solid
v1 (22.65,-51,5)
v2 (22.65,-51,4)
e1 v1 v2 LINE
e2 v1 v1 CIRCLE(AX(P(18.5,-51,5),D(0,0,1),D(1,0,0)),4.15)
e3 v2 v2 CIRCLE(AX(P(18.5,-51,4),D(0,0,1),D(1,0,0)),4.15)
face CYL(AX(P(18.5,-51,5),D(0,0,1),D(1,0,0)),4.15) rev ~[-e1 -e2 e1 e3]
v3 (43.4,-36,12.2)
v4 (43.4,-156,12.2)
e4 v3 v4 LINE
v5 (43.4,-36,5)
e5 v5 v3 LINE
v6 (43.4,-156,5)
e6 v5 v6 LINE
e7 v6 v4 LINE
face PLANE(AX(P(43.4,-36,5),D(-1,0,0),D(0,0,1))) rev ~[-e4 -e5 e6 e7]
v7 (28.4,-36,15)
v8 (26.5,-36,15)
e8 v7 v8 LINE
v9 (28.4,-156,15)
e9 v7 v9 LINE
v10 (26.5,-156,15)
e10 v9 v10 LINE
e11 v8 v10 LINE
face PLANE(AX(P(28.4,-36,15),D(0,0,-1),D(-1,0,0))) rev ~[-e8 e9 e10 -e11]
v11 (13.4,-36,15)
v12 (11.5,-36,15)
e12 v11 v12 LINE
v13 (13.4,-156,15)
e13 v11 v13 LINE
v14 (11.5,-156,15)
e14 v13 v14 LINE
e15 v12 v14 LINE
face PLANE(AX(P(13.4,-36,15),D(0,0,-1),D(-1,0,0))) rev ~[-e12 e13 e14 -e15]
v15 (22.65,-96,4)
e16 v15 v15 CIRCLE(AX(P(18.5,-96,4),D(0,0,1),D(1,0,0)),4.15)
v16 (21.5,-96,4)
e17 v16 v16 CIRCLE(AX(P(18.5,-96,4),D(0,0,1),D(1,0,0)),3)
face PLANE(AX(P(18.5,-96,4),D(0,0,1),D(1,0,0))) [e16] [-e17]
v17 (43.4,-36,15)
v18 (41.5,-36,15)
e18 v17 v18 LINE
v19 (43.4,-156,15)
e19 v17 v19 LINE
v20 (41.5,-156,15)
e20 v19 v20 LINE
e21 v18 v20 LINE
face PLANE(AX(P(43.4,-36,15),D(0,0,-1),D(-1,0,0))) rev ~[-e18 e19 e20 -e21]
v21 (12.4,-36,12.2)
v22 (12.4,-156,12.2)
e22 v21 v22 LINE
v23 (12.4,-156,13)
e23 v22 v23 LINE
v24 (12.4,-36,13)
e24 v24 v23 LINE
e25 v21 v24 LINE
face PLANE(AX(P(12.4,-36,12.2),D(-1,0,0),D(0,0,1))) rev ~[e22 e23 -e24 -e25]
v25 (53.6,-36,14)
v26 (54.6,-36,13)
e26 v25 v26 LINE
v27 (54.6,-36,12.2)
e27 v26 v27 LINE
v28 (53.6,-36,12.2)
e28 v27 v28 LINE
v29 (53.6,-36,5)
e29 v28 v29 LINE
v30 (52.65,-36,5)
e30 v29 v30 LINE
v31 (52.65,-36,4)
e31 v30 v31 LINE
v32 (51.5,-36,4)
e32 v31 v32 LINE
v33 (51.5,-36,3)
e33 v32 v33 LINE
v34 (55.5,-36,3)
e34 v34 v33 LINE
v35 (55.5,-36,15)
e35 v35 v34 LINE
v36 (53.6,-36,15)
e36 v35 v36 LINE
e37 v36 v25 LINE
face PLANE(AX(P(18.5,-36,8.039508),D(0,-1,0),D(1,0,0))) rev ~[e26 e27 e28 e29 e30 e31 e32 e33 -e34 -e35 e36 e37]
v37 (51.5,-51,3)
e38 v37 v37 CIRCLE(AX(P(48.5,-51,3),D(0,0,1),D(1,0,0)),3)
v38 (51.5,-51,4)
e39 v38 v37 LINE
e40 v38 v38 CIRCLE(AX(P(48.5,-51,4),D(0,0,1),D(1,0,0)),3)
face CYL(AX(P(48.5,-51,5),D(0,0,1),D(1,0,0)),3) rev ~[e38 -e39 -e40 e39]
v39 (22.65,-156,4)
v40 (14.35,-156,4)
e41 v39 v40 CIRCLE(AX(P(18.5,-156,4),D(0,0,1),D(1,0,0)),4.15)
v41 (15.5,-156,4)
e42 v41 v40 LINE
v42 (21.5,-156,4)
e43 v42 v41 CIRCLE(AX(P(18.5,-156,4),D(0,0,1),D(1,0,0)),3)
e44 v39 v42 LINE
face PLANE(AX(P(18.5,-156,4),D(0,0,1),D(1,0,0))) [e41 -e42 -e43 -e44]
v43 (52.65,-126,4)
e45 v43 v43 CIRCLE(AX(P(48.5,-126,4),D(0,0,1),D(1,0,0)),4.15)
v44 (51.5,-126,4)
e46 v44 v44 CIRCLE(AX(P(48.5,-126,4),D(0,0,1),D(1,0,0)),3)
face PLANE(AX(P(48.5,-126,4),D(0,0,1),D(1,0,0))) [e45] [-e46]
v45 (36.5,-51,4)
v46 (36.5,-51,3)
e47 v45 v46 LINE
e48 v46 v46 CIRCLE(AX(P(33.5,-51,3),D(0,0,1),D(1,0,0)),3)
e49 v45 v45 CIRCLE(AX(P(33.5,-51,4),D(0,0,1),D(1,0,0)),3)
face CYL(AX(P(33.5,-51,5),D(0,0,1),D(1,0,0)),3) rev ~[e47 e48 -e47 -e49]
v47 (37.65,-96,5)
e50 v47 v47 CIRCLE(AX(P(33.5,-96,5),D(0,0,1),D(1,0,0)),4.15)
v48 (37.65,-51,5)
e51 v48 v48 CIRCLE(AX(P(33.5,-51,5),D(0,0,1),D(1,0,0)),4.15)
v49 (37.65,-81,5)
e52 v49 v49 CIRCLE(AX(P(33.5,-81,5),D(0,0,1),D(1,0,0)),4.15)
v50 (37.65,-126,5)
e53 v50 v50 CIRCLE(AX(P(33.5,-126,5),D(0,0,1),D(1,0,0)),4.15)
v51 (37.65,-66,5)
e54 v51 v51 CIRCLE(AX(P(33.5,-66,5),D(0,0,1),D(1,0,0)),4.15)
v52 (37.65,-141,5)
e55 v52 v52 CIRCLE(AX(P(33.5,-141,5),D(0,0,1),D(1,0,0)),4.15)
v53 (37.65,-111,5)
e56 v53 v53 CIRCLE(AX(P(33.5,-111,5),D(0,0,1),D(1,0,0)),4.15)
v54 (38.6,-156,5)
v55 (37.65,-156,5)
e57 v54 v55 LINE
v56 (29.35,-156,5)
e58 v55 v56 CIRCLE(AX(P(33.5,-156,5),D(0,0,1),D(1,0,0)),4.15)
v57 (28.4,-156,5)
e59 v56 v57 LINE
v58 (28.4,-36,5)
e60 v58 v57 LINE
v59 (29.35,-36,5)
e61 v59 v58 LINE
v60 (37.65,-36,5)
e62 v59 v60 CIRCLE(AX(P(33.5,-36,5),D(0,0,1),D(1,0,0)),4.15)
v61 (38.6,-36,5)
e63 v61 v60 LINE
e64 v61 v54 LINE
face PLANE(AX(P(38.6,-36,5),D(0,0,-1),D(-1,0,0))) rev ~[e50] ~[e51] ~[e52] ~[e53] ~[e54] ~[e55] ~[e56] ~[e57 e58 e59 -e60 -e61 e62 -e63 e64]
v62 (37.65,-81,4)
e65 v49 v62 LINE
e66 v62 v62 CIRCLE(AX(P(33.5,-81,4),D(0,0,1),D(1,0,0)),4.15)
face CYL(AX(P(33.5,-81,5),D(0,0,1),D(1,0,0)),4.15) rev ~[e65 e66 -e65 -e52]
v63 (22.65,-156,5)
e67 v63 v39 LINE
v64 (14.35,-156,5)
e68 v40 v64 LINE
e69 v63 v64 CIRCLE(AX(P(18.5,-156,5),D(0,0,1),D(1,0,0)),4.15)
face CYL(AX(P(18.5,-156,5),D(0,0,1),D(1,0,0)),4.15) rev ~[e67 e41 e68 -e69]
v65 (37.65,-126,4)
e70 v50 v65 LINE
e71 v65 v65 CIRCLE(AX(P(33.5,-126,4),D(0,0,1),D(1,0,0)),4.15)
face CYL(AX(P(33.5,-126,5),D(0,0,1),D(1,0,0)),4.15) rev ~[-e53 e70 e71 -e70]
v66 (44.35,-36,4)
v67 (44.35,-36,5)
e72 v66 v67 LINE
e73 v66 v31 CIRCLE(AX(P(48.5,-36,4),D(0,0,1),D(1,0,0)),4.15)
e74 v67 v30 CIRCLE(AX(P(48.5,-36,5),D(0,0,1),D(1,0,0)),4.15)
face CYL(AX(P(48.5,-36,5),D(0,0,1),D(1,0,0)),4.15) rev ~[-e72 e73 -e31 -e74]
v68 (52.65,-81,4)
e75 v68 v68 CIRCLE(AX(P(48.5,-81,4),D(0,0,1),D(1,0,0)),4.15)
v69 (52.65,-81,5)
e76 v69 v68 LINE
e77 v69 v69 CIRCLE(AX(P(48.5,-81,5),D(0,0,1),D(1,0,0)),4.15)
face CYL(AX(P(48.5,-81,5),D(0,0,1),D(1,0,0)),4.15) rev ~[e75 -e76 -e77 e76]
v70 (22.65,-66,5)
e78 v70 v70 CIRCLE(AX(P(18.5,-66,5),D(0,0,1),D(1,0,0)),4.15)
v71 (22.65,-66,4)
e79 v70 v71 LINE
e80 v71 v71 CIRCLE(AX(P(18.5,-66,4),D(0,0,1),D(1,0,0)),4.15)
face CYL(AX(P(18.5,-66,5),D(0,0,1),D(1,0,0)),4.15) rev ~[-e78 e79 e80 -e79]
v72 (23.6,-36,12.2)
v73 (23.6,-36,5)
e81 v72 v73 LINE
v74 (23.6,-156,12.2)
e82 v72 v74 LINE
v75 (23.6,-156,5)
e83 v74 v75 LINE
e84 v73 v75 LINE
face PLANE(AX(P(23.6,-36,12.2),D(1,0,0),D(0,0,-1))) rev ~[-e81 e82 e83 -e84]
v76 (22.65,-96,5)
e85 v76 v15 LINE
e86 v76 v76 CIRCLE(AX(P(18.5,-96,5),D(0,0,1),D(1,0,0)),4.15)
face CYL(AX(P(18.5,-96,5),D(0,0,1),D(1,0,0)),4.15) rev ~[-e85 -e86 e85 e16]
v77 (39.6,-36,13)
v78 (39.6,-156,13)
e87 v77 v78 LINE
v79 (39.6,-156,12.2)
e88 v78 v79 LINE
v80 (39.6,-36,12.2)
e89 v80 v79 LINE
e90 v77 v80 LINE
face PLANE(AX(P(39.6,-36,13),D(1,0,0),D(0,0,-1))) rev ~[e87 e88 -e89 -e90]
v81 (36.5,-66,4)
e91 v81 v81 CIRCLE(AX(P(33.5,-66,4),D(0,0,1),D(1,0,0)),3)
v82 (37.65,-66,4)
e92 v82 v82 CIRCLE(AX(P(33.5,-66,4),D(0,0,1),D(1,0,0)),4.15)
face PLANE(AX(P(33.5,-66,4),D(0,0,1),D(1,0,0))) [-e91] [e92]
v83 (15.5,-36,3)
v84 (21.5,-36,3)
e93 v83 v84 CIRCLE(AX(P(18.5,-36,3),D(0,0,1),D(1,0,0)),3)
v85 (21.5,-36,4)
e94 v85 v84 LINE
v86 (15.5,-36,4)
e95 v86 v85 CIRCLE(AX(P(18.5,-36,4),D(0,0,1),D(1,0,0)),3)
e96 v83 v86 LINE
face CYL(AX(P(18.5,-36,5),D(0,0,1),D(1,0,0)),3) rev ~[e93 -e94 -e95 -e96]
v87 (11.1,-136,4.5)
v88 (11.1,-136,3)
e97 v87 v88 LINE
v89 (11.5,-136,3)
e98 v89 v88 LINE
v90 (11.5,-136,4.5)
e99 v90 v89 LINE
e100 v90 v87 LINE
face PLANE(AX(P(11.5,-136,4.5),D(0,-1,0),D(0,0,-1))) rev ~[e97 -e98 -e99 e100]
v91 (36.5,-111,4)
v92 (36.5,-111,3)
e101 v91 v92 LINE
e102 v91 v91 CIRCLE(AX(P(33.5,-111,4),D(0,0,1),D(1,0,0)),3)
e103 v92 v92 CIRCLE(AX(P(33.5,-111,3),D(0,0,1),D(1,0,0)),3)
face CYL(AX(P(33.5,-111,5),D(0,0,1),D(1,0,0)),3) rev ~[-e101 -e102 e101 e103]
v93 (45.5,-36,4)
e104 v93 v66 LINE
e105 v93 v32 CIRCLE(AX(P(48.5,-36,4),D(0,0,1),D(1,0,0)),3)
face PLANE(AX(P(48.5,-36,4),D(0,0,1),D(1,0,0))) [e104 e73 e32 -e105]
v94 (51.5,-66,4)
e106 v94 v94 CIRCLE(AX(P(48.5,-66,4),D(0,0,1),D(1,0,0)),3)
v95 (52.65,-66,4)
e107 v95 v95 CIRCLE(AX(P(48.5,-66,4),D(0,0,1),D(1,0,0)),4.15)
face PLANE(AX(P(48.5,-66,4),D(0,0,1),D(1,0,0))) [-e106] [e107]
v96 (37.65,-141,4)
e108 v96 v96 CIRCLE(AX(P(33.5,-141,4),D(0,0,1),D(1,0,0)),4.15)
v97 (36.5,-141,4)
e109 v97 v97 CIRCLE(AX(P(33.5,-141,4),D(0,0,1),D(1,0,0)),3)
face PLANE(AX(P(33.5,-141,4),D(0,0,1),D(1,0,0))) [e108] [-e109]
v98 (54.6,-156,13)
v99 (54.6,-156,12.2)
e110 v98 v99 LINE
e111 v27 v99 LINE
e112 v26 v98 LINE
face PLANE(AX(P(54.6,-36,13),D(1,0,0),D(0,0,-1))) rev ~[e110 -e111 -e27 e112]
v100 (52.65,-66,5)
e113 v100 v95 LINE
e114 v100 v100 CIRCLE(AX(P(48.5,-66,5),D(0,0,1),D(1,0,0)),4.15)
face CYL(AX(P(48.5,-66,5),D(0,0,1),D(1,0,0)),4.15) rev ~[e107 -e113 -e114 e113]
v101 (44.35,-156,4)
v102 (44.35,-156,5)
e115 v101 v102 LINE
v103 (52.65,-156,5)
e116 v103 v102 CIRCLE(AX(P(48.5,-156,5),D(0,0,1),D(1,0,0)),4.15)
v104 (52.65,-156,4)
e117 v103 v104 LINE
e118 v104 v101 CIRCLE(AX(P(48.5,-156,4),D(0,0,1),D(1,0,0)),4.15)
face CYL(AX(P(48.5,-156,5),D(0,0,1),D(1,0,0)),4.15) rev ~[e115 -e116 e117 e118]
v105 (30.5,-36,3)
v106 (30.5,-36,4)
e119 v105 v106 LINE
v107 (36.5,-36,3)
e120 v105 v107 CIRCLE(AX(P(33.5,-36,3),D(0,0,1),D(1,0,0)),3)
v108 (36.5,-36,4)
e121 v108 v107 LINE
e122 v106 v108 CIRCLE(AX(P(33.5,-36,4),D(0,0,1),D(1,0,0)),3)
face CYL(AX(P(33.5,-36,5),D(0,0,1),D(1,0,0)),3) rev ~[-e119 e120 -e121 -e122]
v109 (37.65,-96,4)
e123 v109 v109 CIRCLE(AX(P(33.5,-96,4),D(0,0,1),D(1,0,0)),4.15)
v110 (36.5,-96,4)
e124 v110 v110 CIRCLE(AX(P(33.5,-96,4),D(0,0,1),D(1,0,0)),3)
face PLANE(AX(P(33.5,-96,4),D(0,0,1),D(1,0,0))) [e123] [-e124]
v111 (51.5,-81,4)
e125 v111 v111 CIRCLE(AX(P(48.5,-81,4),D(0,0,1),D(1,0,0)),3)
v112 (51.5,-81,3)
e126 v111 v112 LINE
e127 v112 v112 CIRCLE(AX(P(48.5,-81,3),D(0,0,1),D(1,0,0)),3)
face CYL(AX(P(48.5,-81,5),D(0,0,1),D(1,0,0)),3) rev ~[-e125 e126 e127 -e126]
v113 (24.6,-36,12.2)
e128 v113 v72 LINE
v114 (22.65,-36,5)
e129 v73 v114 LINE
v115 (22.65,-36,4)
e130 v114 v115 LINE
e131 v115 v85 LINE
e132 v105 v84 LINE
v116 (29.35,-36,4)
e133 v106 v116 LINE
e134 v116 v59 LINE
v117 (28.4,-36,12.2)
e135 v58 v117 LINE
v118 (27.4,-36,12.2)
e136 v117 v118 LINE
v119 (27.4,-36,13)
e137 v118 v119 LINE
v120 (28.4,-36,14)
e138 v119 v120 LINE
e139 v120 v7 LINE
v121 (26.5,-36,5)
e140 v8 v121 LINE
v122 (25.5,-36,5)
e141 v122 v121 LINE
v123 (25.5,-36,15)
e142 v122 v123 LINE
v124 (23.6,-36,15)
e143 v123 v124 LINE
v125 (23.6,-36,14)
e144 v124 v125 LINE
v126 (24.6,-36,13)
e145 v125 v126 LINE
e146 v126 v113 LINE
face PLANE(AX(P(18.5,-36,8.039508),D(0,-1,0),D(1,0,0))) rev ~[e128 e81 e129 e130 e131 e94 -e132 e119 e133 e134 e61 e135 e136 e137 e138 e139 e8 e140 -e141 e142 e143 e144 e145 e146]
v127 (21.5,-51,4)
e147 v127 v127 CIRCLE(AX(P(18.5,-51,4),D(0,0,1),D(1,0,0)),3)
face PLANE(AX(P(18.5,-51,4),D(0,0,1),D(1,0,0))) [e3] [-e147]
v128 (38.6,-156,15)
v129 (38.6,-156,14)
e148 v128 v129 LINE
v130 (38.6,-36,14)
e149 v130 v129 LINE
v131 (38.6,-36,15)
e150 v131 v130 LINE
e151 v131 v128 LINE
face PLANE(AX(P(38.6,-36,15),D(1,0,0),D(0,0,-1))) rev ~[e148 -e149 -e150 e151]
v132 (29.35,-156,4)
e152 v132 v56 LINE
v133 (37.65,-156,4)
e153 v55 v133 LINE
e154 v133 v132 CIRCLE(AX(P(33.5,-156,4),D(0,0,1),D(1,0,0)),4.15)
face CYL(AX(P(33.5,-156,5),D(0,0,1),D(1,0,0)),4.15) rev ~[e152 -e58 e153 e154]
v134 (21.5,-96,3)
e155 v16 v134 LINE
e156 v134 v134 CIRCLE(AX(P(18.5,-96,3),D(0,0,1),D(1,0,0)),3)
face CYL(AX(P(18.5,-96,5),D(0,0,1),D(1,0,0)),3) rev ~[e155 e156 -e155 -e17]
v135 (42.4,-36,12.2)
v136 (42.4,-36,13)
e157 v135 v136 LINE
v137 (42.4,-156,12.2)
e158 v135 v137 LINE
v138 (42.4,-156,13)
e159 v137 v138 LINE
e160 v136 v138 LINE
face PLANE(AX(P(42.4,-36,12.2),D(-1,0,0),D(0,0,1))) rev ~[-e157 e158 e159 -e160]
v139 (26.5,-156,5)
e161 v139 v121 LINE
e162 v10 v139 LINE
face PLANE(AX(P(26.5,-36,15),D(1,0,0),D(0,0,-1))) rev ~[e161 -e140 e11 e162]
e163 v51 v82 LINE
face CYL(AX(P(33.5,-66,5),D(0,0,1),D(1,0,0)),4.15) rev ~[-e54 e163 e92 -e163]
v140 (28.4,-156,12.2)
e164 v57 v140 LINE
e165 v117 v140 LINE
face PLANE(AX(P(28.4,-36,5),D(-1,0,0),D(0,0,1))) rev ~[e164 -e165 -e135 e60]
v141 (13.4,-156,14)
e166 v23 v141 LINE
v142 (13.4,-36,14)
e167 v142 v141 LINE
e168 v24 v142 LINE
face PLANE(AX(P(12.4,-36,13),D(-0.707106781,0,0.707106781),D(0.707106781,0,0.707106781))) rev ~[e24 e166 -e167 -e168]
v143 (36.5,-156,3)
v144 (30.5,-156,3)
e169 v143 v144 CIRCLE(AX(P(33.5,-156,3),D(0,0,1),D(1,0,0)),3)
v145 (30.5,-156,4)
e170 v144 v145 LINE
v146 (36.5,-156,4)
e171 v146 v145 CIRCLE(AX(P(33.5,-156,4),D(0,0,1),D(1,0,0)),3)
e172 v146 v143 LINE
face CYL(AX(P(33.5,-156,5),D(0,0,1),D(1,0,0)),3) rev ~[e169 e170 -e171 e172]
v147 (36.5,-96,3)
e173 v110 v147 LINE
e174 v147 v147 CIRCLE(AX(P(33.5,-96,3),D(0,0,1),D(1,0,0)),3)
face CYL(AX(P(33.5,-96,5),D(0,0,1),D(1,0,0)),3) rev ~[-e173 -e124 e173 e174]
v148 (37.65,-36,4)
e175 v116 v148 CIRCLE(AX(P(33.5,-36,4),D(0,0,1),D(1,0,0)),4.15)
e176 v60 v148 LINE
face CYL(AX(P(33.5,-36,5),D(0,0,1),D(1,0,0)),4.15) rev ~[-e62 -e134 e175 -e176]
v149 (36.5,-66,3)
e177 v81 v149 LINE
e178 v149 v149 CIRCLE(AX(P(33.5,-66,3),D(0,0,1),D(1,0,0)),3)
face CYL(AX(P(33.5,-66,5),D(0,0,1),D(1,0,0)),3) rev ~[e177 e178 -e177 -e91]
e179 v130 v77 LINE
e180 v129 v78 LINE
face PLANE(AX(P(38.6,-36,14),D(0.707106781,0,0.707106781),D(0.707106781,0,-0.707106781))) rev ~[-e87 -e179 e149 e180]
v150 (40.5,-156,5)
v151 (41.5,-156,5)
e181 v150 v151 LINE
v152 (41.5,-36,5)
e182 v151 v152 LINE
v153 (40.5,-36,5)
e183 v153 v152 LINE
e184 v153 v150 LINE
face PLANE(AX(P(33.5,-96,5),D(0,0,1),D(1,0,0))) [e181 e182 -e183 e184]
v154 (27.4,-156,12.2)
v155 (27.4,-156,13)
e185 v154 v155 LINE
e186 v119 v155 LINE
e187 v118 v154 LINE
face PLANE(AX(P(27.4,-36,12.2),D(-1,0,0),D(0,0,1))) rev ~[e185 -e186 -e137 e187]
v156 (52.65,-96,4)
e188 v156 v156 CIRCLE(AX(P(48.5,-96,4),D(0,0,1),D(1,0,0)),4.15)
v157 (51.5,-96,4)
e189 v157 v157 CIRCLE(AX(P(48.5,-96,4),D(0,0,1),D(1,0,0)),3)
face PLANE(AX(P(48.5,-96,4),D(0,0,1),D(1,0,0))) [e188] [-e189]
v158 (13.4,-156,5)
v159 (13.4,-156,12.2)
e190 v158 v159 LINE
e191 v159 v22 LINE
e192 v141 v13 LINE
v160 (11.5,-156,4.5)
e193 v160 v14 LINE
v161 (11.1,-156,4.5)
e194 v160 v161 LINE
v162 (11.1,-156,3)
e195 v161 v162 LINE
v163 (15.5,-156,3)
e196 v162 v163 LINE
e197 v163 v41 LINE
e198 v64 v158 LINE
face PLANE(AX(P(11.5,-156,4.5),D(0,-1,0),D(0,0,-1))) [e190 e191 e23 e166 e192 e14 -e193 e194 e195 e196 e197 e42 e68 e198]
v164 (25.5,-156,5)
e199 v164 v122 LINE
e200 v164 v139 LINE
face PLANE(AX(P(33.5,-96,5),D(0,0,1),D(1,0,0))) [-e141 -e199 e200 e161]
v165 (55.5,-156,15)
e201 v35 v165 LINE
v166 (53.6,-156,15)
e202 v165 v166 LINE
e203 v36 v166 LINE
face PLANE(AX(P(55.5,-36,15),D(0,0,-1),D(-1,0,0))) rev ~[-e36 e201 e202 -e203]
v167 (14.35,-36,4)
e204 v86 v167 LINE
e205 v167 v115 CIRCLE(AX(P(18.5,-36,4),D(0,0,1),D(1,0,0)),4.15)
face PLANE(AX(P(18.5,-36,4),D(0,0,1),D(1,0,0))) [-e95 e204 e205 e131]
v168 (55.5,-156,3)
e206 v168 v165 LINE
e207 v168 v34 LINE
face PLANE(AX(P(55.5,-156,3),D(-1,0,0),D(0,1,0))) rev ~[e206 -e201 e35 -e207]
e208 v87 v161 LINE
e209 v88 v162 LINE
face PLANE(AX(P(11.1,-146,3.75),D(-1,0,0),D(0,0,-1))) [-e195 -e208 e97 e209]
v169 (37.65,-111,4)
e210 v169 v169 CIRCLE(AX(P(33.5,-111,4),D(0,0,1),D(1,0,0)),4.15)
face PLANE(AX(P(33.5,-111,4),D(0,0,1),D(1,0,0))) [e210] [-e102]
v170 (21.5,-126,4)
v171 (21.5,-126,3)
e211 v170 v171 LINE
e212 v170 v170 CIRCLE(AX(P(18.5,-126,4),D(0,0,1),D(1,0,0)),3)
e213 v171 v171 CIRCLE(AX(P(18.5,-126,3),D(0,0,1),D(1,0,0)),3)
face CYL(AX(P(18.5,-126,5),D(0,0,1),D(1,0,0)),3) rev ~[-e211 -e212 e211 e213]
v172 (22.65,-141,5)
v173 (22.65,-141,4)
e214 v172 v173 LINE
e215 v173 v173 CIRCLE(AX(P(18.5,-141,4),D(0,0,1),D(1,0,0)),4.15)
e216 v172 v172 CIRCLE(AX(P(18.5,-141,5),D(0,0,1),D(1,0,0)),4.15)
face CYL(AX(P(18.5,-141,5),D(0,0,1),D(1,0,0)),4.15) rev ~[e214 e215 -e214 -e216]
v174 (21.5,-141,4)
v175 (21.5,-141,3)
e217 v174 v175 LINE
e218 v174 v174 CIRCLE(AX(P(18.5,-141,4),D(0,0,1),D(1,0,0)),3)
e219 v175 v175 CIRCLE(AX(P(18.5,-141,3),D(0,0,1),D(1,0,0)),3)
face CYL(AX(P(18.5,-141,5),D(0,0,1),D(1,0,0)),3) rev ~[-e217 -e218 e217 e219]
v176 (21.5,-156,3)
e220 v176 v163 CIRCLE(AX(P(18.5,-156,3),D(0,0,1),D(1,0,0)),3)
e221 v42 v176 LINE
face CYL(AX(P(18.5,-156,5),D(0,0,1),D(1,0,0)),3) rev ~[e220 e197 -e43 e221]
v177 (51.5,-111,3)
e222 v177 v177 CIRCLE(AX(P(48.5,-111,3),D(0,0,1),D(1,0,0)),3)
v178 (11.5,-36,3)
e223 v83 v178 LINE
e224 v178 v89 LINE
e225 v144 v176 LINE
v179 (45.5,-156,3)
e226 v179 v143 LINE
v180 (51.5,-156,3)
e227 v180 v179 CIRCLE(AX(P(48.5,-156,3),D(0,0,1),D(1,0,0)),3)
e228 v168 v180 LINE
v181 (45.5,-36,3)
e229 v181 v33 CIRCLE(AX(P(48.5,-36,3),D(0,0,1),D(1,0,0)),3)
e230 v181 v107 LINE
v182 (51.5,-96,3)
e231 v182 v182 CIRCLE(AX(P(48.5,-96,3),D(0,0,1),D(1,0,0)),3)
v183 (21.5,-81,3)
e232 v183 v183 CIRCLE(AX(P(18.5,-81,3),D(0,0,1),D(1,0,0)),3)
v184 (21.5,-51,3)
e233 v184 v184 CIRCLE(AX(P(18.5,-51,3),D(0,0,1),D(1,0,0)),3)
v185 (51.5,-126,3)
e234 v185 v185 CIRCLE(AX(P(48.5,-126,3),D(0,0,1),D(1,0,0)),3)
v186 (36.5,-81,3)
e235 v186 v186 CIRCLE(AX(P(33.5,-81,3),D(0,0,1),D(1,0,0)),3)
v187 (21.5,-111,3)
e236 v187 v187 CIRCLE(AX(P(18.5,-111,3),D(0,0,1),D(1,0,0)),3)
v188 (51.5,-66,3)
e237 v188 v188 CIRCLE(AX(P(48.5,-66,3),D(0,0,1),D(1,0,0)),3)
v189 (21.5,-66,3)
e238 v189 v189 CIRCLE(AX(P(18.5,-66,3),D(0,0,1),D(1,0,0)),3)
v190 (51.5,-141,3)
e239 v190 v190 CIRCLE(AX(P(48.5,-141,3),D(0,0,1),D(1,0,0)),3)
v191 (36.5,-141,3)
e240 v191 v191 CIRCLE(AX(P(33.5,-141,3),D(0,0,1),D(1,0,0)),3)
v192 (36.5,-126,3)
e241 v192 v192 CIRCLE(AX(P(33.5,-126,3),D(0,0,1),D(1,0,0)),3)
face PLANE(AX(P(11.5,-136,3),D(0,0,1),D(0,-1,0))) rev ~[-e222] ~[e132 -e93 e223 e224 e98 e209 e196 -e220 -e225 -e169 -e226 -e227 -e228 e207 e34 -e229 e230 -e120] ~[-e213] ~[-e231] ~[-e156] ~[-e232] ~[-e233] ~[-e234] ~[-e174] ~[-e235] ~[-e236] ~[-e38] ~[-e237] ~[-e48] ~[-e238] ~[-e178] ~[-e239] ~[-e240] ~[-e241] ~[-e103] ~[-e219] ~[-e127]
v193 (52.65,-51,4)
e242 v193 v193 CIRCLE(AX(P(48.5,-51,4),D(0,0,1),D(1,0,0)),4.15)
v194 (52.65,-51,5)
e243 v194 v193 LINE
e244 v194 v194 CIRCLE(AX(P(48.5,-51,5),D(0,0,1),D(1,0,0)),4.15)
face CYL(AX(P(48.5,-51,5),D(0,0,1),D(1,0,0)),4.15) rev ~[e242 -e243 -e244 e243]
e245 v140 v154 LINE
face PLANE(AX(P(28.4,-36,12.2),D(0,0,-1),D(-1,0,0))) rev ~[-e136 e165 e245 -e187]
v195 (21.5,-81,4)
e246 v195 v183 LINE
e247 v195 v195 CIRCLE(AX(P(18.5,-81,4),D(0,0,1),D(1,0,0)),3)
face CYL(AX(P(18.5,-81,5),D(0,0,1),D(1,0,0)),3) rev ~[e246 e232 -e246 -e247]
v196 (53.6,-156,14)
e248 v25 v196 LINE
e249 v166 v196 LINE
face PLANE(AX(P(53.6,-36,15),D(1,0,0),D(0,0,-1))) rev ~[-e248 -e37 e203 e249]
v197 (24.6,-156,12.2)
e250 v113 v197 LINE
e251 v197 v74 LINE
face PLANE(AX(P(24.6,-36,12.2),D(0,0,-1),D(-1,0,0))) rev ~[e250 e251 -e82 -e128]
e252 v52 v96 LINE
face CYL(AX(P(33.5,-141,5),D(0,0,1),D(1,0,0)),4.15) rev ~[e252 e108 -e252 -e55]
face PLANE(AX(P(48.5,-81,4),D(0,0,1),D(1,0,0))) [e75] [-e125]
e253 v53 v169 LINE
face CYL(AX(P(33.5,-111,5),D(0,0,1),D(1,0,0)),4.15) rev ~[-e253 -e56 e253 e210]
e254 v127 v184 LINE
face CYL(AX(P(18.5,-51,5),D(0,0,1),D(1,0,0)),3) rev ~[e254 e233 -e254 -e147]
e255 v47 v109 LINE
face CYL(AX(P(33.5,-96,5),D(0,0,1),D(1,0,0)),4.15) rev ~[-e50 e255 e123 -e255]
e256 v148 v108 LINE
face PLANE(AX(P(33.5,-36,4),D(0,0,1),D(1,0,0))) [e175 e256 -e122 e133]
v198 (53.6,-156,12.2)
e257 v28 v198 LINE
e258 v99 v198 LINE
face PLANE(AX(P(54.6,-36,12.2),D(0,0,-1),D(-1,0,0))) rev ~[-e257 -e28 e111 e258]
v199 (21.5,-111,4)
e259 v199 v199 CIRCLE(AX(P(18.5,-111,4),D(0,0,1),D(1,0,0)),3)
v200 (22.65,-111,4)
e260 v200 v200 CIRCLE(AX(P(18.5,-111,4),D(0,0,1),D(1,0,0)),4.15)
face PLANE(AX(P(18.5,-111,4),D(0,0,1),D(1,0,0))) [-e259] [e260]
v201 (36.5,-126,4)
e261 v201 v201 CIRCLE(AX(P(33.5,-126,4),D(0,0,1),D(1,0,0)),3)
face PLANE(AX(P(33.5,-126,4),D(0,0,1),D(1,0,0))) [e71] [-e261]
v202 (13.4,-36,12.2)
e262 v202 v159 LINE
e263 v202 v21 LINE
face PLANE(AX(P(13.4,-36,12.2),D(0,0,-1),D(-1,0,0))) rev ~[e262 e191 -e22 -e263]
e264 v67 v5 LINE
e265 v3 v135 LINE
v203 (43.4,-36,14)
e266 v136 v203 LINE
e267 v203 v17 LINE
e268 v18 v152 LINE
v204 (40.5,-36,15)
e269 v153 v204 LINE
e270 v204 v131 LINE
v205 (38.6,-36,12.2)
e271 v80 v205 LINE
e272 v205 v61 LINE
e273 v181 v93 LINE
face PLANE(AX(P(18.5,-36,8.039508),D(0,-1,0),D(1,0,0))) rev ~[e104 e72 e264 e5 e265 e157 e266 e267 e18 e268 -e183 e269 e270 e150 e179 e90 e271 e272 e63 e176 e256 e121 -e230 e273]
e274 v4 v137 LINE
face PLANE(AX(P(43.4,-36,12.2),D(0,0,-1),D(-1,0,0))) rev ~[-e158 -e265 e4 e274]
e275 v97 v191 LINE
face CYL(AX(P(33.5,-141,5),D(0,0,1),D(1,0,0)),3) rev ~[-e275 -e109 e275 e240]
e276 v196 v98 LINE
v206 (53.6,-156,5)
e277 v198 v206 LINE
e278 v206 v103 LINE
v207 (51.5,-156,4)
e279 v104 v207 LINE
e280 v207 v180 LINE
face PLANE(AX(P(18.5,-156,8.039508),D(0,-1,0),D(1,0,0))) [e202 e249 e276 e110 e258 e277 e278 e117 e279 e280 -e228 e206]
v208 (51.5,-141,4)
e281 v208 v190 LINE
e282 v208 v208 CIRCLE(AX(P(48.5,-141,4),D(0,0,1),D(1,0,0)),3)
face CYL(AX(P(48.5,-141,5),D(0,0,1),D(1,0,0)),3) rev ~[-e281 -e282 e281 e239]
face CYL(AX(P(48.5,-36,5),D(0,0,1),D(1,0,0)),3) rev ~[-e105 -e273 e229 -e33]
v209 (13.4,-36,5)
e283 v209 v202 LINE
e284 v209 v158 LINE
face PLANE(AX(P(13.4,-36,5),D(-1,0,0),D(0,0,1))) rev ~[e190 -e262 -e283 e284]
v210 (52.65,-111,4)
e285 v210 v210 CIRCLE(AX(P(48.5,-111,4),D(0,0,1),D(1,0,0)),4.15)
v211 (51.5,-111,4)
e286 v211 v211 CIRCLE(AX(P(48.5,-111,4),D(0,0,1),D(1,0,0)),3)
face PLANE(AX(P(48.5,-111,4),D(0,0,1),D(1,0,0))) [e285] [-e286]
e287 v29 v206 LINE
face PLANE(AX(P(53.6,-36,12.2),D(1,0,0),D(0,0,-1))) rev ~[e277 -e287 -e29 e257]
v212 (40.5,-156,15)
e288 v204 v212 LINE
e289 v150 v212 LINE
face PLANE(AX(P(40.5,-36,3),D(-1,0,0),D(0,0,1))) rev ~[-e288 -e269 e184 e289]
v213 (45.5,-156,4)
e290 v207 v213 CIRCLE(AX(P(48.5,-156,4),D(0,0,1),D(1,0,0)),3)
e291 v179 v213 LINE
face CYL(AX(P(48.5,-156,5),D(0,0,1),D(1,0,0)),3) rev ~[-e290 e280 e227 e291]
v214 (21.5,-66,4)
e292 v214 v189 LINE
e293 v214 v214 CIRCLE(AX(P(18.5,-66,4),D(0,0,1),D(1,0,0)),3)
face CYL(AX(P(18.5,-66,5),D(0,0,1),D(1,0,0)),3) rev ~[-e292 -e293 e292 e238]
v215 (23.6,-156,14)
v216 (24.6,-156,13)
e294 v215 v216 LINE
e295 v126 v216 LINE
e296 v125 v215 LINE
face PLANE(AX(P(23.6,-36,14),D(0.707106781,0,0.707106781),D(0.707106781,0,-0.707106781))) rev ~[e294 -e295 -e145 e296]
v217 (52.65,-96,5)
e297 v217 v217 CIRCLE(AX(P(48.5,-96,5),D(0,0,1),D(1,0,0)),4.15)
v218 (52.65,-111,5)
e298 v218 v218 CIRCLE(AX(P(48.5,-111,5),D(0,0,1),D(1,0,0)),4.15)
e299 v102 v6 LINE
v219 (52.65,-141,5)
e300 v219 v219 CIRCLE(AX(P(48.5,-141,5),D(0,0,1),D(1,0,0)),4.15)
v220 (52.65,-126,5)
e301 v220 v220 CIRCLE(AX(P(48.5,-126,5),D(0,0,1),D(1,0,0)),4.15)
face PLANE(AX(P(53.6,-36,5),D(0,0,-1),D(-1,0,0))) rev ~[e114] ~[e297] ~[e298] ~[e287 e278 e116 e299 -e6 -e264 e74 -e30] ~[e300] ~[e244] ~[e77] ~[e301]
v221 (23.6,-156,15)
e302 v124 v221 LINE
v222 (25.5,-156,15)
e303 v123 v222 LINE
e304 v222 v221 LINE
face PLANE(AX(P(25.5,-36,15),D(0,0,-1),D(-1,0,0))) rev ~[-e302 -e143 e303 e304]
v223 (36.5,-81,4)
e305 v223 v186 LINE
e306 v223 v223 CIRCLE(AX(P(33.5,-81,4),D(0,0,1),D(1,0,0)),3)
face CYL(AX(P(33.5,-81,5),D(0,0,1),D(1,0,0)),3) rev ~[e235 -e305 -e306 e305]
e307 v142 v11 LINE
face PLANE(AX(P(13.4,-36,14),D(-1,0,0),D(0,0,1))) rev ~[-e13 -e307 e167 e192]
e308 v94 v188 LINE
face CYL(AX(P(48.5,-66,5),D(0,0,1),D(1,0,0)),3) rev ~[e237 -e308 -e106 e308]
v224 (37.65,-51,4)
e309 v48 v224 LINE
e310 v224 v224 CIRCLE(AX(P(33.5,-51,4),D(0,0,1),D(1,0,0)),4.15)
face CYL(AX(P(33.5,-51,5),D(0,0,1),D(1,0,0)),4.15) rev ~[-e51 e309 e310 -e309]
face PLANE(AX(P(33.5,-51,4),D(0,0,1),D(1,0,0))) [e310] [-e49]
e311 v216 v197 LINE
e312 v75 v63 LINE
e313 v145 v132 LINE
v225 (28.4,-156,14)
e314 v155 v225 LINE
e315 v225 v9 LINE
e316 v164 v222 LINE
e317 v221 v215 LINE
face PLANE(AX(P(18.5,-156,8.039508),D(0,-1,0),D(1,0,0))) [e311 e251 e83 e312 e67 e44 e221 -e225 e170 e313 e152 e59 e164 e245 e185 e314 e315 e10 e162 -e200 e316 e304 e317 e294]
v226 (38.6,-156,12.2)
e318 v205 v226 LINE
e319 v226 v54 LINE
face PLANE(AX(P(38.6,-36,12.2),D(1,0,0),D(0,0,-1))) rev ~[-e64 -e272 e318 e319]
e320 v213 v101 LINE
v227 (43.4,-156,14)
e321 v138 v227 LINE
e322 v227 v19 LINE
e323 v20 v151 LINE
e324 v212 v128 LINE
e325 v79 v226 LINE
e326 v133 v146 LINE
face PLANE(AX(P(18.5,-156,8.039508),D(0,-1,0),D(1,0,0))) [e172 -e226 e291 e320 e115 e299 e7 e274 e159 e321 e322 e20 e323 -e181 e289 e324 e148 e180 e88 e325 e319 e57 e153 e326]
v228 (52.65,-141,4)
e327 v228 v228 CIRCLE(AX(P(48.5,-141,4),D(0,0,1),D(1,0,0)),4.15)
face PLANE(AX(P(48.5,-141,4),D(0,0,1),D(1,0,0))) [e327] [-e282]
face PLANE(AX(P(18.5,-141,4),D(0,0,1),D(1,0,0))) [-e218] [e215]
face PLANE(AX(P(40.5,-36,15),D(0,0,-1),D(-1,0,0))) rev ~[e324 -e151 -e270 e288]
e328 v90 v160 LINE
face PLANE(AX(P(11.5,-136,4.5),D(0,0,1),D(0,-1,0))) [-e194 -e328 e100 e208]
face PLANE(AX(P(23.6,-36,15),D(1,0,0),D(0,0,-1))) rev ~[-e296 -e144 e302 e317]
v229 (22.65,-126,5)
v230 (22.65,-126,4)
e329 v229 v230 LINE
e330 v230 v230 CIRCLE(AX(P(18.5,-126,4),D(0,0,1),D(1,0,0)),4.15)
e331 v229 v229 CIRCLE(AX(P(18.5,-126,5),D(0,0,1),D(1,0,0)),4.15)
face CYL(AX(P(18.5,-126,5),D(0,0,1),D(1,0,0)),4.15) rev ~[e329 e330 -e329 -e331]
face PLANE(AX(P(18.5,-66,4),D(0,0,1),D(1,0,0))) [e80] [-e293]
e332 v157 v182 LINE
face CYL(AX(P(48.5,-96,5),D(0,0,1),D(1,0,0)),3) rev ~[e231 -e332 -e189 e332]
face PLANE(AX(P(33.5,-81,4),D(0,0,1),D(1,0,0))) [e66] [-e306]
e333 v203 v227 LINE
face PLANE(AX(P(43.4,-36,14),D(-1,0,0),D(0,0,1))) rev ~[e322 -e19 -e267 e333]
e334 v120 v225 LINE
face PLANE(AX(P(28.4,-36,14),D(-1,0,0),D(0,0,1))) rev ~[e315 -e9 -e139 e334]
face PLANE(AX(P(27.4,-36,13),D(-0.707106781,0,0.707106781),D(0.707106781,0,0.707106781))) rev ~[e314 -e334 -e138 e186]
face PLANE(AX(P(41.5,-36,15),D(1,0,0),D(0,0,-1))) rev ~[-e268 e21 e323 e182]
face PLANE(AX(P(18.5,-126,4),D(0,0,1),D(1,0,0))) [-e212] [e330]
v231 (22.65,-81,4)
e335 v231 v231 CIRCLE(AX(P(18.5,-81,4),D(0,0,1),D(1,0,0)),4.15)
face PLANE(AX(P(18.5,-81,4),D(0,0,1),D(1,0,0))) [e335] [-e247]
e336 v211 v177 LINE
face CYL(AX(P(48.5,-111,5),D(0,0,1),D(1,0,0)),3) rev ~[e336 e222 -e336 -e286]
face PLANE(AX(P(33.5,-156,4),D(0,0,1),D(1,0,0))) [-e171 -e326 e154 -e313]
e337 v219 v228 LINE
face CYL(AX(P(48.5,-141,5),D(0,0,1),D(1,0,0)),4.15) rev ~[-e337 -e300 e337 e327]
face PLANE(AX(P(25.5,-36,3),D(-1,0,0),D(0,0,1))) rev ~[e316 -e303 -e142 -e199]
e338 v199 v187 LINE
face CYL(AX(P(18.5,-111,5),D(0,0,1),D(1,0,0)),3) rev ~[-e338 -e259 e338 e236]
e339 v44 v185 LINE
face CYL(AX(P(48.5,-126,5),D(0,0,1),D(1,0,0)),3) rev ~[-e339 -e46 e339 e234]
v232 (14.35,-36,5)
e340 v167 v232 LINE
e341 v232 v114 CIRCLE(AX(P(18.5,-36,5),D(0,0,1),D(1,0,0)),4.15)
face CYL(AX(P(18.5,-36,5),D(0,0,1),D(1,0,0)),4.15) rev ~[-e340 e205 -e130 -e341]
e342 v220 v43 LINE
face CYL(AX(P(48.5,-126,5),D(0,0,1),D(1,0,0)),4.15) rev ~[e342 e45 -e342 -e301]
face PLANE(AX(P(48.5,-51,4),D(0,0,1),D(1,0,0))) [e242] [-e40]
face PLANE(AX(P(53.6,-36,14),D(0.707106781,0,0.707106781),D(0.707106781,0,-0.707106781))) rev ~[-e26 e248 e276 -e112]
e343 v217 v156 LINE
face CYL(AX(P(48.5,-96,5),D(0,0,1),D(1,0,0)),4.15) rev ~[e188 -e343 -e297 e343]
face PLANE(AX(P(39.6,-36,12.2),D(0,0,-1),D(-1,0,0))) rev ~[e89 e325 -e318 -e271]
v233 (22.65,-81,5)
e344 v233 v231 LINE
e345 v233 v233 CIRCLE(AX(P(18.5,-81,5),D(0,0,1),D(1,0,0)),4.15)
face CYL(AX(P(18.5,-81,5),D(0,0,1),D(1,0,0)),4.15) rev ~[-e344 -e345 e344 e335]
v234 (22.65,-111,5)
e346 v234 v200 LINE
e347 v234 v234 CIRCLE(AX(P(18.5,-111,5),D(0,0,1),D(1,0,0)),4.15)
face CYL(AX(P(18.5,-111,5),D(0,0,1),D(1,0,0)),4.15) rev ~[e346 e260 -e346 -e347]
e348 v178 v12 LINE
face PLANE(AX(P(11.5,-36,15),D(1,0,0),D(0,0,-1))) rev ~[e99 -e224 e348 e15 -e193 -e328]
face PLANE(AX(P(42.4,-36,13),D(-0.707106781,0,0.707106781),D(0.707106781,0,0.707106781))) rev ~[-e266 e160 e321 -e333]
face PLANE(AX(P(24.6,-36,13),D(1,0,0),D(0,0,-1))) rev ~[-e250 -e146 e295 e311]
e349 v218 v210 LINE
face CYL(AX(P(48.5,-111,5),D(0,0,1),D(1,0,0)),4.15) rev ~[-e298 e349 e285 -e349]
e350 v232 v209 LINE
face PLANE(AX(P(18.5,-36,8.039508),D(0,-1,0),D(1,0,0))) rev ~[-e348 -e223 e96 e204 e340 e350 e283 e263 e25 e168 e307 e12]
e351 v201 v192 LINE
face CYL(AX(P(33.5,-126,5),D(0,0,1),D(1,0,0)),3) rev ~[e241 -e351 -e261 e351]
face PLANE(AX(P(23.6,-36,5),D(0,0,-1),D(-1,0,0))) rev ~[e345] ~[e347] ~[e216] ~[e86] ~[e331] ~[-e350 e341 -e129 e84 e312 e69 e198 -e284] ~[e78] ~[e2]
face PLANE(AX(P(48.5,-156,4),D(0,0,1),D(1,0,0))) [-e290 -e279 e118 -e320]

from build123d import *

# Parameters (mm, degrees)
PAD002_DEPTH           = 120
SKETCH012_W            = 44
SKETCH012_H            = 120
PAD003_DEPTH           = 2
LINEARPATTERN001_COUNT = 3
LINEARPATTERN001_PITCH = 15
SKETCH013_R            = 3
POCKET_DEPTH           = 5
SKETCH014_R            = 3
POCKET012_DEPTH        = 5
SKETCH016_R            = 4.15
POCKET013_DEPTH        = 1
POCKET013_DEPTH_BACK   = -8
SKETCH017_R            = 4.15
POCKET014_DEPTH        = 1
POCKET014_DEPTH_BACK   = -8
SKETCH_W               = 1.5
SKETCH_H               = 20
PAD_DEPTH              = 0.4


with BuildPart() as part:
    # Sketch011 → Pad002 (new body)
    with BuildSketch(Plane.XZ):
        Polygon((7, -6), (7, 6), (5.1, 6), (5.1, 5), (6.1, 4), (6.1, 3.2), (5.1, 3.2), (5.1, -4), (-5.1, -4), (-5.1, 3.2), (-6.1, 3.2), (-6.1, 4), (-5.1, 5), (-5.1, 6), (-7, 6), (-7, -6), align=None)
    pad002 = extrude(amount=PAD002_DEPTH)

    # Sketch012 (on DatumPlane) → Pad003 (join)
    with BuildSketch(Plane.XY.offset(-6)):
        with Locations((15, -60)):
            Rectangle(SKETCH012_W, SKETCH012_H)
    extrude(amount=PAD003_DEPTH)

    # LinearPattern001: Pad002 ×3
    with Locations(*[(i * LINEARPATTERN001_PITCH, 0, 0) for i in range(1, LINEARPATTERN001_COUNT)]):
        add(pad002)

    # Sketch013 → Pocket (cut)
    with BuildSketch(Plane(origin=(-15, -215.5, -4), x_dir=(1, 0, 0), z_dir=(0, 0, 1))):
        with Locations((15, 95.5)):
            Circle(SKETCH013_R)
        with Locations((45, 95.5)):
            Circle(SKETCH013_R)
        with Locations((30, 110.5)):
            Circle(SKETCH013_R)
        with Locations((15, 125.5)):
            Circle(SKETCH013_R)
        with Locations((45, 125.5)):
            Circle(SKETCH013_R)
        with Locations((15, 155.5)):
            Circle(SKETCH013_R)
        with Locations((45, 155.5)):
            Circle(SKETCH013_R)
        with Locations((30, 140.5)):
            Circle(SKETCH013_R)
        with Locations((30, 170.5)):
            Circle(SKETCH013_R)
        with Locations((15, 185.5)):
            Circle(SKETCH013_R)
        with Locations((45, 185.5)):
            Circle(SKETCH013_R)
        with Locations((30, 200.5)):
            Circle(SKETCH013_R)
        with Locations((15, 215.5)):
            Circle(SKETCH013_R)
        with Locations((45, 215.5)):
            Circle(SKETCH013_R)
    extrude(amount=-POCKET_DEPTH, mode=Mode.SUBTRACT)

    # Sketch014 → Pocket012 (cut)
    with BuildSketch(Plane(origin=(0, -215.5, -4), x_dir=(1, 0, 0), z_dir=(0, 0, 1))):
        with Locations((15, 95.5)):
            Circle(SKETCH014_R)
        with Locations((30, 110.5)):
            Circle(SKETCH014_R)
        with Locations((15, 125.5)):
            Circle(SKETCH014_R)
        with Locations((15, 155.5)):
            Circle(SKETCH014_R)
        with Locations((30, 140.5)):
            Circle(SKETCH014_R)
        with Locations((30, 170.5)):
            Circle(SKETCH014_R)
        with Locations((15, 185.5)):
            Circle(SKETCH014_R)
        with Locations((30, 200.5)):
            Circle(SKETCH014_R)
        with Locations((15, 215.5)):
            Circle(SKETCH014_R)
        with Locations((45, 215.5)):
            Circle(SKETCH014_R)
        with Locations((0, 110.5)):
            Circle(SKETCH014_R)
        with Locations((0, 140.5)):
            Circle(SKETCH014_R)
        with Locations((0, 170.5)):
            Circle(SKETCH014_R)
        with Locations((0, 200.5)):
            Circle(SKETCH014_R)
    extrude(amount=-POCKET012_DEPTH, mode=Mode.SUBTRACT)

    # Sketch016 → Pocket013 (cut, two sides)
    with BuildSketch(Plane(origin=(-15, -215.5, -4), x_dir=(1, 0, 0), z_dir=(0, 0, 1))) as pocket013_sk:
        with Locations((15, 95.5)):
            Circle(SKETCH016_R)
        with Locations((45, 95.5)):
            Circle(SKETCH016_R)
        with Locations((30, 110.5)):
            Circle(SKETCH016_R)
        with Locations((15, 125.5)):
            Circle(SKETCH016_R)
        with Locations((45, 125.5)):
            Circle(SKETCH016_R)
        with Locations((15, 155.5)):
            Circle(SKETCH016_R)
        with Locations((45, 155.5)):
            Circle(SKETCH016_R)
        with Locations((30, 140.5)):
            Circle(SKETCH016_R)
        with Locations((30, 170.5)):
            Circle(SKETCH016_R)
        with Locations((15, 185.5)):
            Circle(SKETCH016_R)
        with Locations((45, 185.5)):
            Circle(SKETCH016_R)
        with Locations((30, 200.5)):
            Circle(SKETCH016_R)
        with Locations((15, 215.5)):
            Circle(SKETCH016_R)
        with Locations((45, 215.5)):
            Circle(SKETCH016_R)
    extrude(amount=-POCKET013_DEPTH, mode=Mode.SUBTRACT)
    extrude(pocket013_sk.sketch, amount=-POCKET013_DEPTH_BACK, mode=Mode.SUBTRACT)

    # Sketch017 → Pocket014 (cut, two sides)
    with BuildSketch(Plane(origin=(0, -215.5, -4), x_dir=(1, 0, 0), z_dir=(0, 0, 1))) as pocket014_sk:
        with Locations((15, 95.5)):
            Circle(SKETCH017_R)
        with Locations((30, 110.5)):
            Circle(SKETCH017_R)
        with Locations((15, 125.5)):
            Circle(SKETCH017_R)
        with Locations((15, 155.5)):
            Circle(SKETCH017_R)
        with Locations((30, 140.5)):
            Circle(SKETCH017_R)
        with Locations((30, 170.5)):
            Circle(SKETCH017_R)
        with Locations((15, 185.5)):
            Circle(SKETCH017_R)
        with Locations((30, 200.5)):
            Circle(SKETCH017_R)
        with Locations((15, 215.5)):
            Circle(SKETCH017_R)
        with Locations((45, 215.5)):
            Circle(SKETCH017_R)
        with Locations((0, 110.5)):
            Circle(SKETCH017_R)
        with Locations((0, 140.5)):
            Circle(SKETCH017_R)
        with Locations((0, 170.5)):
            Circle(SKETCH017_R)
        with Locations((0, 200.5)):
            Circle(SKETCH017_R)
    extrude(amount=-POCKET014_DEPTH, mode=Mode.SUBTRACT)
    extrude(pocket014_sk.sketch, amount=-POCKET014_DEPTH_BACK, mode=Mode.SUBTRACT)

    # Sketch (on Face7 of Pocket014) → Pad (join)
    with BuildSketch(Plane(origin=(-7, 0, 0), x_dir=(0, 0, -1), z_dir=(-1, 0, 0))):
        with Locations((5.25, 110)):
            Rectangle(SKETCH_W, SKETCH_H)
    extrude(amount=PAD_DEPTH)


with BuildPart() as part_1:
    # Body001 placement: moved
    add(part.part.moved(Location((18.5, -36, 9))))


solid = part_1.part
